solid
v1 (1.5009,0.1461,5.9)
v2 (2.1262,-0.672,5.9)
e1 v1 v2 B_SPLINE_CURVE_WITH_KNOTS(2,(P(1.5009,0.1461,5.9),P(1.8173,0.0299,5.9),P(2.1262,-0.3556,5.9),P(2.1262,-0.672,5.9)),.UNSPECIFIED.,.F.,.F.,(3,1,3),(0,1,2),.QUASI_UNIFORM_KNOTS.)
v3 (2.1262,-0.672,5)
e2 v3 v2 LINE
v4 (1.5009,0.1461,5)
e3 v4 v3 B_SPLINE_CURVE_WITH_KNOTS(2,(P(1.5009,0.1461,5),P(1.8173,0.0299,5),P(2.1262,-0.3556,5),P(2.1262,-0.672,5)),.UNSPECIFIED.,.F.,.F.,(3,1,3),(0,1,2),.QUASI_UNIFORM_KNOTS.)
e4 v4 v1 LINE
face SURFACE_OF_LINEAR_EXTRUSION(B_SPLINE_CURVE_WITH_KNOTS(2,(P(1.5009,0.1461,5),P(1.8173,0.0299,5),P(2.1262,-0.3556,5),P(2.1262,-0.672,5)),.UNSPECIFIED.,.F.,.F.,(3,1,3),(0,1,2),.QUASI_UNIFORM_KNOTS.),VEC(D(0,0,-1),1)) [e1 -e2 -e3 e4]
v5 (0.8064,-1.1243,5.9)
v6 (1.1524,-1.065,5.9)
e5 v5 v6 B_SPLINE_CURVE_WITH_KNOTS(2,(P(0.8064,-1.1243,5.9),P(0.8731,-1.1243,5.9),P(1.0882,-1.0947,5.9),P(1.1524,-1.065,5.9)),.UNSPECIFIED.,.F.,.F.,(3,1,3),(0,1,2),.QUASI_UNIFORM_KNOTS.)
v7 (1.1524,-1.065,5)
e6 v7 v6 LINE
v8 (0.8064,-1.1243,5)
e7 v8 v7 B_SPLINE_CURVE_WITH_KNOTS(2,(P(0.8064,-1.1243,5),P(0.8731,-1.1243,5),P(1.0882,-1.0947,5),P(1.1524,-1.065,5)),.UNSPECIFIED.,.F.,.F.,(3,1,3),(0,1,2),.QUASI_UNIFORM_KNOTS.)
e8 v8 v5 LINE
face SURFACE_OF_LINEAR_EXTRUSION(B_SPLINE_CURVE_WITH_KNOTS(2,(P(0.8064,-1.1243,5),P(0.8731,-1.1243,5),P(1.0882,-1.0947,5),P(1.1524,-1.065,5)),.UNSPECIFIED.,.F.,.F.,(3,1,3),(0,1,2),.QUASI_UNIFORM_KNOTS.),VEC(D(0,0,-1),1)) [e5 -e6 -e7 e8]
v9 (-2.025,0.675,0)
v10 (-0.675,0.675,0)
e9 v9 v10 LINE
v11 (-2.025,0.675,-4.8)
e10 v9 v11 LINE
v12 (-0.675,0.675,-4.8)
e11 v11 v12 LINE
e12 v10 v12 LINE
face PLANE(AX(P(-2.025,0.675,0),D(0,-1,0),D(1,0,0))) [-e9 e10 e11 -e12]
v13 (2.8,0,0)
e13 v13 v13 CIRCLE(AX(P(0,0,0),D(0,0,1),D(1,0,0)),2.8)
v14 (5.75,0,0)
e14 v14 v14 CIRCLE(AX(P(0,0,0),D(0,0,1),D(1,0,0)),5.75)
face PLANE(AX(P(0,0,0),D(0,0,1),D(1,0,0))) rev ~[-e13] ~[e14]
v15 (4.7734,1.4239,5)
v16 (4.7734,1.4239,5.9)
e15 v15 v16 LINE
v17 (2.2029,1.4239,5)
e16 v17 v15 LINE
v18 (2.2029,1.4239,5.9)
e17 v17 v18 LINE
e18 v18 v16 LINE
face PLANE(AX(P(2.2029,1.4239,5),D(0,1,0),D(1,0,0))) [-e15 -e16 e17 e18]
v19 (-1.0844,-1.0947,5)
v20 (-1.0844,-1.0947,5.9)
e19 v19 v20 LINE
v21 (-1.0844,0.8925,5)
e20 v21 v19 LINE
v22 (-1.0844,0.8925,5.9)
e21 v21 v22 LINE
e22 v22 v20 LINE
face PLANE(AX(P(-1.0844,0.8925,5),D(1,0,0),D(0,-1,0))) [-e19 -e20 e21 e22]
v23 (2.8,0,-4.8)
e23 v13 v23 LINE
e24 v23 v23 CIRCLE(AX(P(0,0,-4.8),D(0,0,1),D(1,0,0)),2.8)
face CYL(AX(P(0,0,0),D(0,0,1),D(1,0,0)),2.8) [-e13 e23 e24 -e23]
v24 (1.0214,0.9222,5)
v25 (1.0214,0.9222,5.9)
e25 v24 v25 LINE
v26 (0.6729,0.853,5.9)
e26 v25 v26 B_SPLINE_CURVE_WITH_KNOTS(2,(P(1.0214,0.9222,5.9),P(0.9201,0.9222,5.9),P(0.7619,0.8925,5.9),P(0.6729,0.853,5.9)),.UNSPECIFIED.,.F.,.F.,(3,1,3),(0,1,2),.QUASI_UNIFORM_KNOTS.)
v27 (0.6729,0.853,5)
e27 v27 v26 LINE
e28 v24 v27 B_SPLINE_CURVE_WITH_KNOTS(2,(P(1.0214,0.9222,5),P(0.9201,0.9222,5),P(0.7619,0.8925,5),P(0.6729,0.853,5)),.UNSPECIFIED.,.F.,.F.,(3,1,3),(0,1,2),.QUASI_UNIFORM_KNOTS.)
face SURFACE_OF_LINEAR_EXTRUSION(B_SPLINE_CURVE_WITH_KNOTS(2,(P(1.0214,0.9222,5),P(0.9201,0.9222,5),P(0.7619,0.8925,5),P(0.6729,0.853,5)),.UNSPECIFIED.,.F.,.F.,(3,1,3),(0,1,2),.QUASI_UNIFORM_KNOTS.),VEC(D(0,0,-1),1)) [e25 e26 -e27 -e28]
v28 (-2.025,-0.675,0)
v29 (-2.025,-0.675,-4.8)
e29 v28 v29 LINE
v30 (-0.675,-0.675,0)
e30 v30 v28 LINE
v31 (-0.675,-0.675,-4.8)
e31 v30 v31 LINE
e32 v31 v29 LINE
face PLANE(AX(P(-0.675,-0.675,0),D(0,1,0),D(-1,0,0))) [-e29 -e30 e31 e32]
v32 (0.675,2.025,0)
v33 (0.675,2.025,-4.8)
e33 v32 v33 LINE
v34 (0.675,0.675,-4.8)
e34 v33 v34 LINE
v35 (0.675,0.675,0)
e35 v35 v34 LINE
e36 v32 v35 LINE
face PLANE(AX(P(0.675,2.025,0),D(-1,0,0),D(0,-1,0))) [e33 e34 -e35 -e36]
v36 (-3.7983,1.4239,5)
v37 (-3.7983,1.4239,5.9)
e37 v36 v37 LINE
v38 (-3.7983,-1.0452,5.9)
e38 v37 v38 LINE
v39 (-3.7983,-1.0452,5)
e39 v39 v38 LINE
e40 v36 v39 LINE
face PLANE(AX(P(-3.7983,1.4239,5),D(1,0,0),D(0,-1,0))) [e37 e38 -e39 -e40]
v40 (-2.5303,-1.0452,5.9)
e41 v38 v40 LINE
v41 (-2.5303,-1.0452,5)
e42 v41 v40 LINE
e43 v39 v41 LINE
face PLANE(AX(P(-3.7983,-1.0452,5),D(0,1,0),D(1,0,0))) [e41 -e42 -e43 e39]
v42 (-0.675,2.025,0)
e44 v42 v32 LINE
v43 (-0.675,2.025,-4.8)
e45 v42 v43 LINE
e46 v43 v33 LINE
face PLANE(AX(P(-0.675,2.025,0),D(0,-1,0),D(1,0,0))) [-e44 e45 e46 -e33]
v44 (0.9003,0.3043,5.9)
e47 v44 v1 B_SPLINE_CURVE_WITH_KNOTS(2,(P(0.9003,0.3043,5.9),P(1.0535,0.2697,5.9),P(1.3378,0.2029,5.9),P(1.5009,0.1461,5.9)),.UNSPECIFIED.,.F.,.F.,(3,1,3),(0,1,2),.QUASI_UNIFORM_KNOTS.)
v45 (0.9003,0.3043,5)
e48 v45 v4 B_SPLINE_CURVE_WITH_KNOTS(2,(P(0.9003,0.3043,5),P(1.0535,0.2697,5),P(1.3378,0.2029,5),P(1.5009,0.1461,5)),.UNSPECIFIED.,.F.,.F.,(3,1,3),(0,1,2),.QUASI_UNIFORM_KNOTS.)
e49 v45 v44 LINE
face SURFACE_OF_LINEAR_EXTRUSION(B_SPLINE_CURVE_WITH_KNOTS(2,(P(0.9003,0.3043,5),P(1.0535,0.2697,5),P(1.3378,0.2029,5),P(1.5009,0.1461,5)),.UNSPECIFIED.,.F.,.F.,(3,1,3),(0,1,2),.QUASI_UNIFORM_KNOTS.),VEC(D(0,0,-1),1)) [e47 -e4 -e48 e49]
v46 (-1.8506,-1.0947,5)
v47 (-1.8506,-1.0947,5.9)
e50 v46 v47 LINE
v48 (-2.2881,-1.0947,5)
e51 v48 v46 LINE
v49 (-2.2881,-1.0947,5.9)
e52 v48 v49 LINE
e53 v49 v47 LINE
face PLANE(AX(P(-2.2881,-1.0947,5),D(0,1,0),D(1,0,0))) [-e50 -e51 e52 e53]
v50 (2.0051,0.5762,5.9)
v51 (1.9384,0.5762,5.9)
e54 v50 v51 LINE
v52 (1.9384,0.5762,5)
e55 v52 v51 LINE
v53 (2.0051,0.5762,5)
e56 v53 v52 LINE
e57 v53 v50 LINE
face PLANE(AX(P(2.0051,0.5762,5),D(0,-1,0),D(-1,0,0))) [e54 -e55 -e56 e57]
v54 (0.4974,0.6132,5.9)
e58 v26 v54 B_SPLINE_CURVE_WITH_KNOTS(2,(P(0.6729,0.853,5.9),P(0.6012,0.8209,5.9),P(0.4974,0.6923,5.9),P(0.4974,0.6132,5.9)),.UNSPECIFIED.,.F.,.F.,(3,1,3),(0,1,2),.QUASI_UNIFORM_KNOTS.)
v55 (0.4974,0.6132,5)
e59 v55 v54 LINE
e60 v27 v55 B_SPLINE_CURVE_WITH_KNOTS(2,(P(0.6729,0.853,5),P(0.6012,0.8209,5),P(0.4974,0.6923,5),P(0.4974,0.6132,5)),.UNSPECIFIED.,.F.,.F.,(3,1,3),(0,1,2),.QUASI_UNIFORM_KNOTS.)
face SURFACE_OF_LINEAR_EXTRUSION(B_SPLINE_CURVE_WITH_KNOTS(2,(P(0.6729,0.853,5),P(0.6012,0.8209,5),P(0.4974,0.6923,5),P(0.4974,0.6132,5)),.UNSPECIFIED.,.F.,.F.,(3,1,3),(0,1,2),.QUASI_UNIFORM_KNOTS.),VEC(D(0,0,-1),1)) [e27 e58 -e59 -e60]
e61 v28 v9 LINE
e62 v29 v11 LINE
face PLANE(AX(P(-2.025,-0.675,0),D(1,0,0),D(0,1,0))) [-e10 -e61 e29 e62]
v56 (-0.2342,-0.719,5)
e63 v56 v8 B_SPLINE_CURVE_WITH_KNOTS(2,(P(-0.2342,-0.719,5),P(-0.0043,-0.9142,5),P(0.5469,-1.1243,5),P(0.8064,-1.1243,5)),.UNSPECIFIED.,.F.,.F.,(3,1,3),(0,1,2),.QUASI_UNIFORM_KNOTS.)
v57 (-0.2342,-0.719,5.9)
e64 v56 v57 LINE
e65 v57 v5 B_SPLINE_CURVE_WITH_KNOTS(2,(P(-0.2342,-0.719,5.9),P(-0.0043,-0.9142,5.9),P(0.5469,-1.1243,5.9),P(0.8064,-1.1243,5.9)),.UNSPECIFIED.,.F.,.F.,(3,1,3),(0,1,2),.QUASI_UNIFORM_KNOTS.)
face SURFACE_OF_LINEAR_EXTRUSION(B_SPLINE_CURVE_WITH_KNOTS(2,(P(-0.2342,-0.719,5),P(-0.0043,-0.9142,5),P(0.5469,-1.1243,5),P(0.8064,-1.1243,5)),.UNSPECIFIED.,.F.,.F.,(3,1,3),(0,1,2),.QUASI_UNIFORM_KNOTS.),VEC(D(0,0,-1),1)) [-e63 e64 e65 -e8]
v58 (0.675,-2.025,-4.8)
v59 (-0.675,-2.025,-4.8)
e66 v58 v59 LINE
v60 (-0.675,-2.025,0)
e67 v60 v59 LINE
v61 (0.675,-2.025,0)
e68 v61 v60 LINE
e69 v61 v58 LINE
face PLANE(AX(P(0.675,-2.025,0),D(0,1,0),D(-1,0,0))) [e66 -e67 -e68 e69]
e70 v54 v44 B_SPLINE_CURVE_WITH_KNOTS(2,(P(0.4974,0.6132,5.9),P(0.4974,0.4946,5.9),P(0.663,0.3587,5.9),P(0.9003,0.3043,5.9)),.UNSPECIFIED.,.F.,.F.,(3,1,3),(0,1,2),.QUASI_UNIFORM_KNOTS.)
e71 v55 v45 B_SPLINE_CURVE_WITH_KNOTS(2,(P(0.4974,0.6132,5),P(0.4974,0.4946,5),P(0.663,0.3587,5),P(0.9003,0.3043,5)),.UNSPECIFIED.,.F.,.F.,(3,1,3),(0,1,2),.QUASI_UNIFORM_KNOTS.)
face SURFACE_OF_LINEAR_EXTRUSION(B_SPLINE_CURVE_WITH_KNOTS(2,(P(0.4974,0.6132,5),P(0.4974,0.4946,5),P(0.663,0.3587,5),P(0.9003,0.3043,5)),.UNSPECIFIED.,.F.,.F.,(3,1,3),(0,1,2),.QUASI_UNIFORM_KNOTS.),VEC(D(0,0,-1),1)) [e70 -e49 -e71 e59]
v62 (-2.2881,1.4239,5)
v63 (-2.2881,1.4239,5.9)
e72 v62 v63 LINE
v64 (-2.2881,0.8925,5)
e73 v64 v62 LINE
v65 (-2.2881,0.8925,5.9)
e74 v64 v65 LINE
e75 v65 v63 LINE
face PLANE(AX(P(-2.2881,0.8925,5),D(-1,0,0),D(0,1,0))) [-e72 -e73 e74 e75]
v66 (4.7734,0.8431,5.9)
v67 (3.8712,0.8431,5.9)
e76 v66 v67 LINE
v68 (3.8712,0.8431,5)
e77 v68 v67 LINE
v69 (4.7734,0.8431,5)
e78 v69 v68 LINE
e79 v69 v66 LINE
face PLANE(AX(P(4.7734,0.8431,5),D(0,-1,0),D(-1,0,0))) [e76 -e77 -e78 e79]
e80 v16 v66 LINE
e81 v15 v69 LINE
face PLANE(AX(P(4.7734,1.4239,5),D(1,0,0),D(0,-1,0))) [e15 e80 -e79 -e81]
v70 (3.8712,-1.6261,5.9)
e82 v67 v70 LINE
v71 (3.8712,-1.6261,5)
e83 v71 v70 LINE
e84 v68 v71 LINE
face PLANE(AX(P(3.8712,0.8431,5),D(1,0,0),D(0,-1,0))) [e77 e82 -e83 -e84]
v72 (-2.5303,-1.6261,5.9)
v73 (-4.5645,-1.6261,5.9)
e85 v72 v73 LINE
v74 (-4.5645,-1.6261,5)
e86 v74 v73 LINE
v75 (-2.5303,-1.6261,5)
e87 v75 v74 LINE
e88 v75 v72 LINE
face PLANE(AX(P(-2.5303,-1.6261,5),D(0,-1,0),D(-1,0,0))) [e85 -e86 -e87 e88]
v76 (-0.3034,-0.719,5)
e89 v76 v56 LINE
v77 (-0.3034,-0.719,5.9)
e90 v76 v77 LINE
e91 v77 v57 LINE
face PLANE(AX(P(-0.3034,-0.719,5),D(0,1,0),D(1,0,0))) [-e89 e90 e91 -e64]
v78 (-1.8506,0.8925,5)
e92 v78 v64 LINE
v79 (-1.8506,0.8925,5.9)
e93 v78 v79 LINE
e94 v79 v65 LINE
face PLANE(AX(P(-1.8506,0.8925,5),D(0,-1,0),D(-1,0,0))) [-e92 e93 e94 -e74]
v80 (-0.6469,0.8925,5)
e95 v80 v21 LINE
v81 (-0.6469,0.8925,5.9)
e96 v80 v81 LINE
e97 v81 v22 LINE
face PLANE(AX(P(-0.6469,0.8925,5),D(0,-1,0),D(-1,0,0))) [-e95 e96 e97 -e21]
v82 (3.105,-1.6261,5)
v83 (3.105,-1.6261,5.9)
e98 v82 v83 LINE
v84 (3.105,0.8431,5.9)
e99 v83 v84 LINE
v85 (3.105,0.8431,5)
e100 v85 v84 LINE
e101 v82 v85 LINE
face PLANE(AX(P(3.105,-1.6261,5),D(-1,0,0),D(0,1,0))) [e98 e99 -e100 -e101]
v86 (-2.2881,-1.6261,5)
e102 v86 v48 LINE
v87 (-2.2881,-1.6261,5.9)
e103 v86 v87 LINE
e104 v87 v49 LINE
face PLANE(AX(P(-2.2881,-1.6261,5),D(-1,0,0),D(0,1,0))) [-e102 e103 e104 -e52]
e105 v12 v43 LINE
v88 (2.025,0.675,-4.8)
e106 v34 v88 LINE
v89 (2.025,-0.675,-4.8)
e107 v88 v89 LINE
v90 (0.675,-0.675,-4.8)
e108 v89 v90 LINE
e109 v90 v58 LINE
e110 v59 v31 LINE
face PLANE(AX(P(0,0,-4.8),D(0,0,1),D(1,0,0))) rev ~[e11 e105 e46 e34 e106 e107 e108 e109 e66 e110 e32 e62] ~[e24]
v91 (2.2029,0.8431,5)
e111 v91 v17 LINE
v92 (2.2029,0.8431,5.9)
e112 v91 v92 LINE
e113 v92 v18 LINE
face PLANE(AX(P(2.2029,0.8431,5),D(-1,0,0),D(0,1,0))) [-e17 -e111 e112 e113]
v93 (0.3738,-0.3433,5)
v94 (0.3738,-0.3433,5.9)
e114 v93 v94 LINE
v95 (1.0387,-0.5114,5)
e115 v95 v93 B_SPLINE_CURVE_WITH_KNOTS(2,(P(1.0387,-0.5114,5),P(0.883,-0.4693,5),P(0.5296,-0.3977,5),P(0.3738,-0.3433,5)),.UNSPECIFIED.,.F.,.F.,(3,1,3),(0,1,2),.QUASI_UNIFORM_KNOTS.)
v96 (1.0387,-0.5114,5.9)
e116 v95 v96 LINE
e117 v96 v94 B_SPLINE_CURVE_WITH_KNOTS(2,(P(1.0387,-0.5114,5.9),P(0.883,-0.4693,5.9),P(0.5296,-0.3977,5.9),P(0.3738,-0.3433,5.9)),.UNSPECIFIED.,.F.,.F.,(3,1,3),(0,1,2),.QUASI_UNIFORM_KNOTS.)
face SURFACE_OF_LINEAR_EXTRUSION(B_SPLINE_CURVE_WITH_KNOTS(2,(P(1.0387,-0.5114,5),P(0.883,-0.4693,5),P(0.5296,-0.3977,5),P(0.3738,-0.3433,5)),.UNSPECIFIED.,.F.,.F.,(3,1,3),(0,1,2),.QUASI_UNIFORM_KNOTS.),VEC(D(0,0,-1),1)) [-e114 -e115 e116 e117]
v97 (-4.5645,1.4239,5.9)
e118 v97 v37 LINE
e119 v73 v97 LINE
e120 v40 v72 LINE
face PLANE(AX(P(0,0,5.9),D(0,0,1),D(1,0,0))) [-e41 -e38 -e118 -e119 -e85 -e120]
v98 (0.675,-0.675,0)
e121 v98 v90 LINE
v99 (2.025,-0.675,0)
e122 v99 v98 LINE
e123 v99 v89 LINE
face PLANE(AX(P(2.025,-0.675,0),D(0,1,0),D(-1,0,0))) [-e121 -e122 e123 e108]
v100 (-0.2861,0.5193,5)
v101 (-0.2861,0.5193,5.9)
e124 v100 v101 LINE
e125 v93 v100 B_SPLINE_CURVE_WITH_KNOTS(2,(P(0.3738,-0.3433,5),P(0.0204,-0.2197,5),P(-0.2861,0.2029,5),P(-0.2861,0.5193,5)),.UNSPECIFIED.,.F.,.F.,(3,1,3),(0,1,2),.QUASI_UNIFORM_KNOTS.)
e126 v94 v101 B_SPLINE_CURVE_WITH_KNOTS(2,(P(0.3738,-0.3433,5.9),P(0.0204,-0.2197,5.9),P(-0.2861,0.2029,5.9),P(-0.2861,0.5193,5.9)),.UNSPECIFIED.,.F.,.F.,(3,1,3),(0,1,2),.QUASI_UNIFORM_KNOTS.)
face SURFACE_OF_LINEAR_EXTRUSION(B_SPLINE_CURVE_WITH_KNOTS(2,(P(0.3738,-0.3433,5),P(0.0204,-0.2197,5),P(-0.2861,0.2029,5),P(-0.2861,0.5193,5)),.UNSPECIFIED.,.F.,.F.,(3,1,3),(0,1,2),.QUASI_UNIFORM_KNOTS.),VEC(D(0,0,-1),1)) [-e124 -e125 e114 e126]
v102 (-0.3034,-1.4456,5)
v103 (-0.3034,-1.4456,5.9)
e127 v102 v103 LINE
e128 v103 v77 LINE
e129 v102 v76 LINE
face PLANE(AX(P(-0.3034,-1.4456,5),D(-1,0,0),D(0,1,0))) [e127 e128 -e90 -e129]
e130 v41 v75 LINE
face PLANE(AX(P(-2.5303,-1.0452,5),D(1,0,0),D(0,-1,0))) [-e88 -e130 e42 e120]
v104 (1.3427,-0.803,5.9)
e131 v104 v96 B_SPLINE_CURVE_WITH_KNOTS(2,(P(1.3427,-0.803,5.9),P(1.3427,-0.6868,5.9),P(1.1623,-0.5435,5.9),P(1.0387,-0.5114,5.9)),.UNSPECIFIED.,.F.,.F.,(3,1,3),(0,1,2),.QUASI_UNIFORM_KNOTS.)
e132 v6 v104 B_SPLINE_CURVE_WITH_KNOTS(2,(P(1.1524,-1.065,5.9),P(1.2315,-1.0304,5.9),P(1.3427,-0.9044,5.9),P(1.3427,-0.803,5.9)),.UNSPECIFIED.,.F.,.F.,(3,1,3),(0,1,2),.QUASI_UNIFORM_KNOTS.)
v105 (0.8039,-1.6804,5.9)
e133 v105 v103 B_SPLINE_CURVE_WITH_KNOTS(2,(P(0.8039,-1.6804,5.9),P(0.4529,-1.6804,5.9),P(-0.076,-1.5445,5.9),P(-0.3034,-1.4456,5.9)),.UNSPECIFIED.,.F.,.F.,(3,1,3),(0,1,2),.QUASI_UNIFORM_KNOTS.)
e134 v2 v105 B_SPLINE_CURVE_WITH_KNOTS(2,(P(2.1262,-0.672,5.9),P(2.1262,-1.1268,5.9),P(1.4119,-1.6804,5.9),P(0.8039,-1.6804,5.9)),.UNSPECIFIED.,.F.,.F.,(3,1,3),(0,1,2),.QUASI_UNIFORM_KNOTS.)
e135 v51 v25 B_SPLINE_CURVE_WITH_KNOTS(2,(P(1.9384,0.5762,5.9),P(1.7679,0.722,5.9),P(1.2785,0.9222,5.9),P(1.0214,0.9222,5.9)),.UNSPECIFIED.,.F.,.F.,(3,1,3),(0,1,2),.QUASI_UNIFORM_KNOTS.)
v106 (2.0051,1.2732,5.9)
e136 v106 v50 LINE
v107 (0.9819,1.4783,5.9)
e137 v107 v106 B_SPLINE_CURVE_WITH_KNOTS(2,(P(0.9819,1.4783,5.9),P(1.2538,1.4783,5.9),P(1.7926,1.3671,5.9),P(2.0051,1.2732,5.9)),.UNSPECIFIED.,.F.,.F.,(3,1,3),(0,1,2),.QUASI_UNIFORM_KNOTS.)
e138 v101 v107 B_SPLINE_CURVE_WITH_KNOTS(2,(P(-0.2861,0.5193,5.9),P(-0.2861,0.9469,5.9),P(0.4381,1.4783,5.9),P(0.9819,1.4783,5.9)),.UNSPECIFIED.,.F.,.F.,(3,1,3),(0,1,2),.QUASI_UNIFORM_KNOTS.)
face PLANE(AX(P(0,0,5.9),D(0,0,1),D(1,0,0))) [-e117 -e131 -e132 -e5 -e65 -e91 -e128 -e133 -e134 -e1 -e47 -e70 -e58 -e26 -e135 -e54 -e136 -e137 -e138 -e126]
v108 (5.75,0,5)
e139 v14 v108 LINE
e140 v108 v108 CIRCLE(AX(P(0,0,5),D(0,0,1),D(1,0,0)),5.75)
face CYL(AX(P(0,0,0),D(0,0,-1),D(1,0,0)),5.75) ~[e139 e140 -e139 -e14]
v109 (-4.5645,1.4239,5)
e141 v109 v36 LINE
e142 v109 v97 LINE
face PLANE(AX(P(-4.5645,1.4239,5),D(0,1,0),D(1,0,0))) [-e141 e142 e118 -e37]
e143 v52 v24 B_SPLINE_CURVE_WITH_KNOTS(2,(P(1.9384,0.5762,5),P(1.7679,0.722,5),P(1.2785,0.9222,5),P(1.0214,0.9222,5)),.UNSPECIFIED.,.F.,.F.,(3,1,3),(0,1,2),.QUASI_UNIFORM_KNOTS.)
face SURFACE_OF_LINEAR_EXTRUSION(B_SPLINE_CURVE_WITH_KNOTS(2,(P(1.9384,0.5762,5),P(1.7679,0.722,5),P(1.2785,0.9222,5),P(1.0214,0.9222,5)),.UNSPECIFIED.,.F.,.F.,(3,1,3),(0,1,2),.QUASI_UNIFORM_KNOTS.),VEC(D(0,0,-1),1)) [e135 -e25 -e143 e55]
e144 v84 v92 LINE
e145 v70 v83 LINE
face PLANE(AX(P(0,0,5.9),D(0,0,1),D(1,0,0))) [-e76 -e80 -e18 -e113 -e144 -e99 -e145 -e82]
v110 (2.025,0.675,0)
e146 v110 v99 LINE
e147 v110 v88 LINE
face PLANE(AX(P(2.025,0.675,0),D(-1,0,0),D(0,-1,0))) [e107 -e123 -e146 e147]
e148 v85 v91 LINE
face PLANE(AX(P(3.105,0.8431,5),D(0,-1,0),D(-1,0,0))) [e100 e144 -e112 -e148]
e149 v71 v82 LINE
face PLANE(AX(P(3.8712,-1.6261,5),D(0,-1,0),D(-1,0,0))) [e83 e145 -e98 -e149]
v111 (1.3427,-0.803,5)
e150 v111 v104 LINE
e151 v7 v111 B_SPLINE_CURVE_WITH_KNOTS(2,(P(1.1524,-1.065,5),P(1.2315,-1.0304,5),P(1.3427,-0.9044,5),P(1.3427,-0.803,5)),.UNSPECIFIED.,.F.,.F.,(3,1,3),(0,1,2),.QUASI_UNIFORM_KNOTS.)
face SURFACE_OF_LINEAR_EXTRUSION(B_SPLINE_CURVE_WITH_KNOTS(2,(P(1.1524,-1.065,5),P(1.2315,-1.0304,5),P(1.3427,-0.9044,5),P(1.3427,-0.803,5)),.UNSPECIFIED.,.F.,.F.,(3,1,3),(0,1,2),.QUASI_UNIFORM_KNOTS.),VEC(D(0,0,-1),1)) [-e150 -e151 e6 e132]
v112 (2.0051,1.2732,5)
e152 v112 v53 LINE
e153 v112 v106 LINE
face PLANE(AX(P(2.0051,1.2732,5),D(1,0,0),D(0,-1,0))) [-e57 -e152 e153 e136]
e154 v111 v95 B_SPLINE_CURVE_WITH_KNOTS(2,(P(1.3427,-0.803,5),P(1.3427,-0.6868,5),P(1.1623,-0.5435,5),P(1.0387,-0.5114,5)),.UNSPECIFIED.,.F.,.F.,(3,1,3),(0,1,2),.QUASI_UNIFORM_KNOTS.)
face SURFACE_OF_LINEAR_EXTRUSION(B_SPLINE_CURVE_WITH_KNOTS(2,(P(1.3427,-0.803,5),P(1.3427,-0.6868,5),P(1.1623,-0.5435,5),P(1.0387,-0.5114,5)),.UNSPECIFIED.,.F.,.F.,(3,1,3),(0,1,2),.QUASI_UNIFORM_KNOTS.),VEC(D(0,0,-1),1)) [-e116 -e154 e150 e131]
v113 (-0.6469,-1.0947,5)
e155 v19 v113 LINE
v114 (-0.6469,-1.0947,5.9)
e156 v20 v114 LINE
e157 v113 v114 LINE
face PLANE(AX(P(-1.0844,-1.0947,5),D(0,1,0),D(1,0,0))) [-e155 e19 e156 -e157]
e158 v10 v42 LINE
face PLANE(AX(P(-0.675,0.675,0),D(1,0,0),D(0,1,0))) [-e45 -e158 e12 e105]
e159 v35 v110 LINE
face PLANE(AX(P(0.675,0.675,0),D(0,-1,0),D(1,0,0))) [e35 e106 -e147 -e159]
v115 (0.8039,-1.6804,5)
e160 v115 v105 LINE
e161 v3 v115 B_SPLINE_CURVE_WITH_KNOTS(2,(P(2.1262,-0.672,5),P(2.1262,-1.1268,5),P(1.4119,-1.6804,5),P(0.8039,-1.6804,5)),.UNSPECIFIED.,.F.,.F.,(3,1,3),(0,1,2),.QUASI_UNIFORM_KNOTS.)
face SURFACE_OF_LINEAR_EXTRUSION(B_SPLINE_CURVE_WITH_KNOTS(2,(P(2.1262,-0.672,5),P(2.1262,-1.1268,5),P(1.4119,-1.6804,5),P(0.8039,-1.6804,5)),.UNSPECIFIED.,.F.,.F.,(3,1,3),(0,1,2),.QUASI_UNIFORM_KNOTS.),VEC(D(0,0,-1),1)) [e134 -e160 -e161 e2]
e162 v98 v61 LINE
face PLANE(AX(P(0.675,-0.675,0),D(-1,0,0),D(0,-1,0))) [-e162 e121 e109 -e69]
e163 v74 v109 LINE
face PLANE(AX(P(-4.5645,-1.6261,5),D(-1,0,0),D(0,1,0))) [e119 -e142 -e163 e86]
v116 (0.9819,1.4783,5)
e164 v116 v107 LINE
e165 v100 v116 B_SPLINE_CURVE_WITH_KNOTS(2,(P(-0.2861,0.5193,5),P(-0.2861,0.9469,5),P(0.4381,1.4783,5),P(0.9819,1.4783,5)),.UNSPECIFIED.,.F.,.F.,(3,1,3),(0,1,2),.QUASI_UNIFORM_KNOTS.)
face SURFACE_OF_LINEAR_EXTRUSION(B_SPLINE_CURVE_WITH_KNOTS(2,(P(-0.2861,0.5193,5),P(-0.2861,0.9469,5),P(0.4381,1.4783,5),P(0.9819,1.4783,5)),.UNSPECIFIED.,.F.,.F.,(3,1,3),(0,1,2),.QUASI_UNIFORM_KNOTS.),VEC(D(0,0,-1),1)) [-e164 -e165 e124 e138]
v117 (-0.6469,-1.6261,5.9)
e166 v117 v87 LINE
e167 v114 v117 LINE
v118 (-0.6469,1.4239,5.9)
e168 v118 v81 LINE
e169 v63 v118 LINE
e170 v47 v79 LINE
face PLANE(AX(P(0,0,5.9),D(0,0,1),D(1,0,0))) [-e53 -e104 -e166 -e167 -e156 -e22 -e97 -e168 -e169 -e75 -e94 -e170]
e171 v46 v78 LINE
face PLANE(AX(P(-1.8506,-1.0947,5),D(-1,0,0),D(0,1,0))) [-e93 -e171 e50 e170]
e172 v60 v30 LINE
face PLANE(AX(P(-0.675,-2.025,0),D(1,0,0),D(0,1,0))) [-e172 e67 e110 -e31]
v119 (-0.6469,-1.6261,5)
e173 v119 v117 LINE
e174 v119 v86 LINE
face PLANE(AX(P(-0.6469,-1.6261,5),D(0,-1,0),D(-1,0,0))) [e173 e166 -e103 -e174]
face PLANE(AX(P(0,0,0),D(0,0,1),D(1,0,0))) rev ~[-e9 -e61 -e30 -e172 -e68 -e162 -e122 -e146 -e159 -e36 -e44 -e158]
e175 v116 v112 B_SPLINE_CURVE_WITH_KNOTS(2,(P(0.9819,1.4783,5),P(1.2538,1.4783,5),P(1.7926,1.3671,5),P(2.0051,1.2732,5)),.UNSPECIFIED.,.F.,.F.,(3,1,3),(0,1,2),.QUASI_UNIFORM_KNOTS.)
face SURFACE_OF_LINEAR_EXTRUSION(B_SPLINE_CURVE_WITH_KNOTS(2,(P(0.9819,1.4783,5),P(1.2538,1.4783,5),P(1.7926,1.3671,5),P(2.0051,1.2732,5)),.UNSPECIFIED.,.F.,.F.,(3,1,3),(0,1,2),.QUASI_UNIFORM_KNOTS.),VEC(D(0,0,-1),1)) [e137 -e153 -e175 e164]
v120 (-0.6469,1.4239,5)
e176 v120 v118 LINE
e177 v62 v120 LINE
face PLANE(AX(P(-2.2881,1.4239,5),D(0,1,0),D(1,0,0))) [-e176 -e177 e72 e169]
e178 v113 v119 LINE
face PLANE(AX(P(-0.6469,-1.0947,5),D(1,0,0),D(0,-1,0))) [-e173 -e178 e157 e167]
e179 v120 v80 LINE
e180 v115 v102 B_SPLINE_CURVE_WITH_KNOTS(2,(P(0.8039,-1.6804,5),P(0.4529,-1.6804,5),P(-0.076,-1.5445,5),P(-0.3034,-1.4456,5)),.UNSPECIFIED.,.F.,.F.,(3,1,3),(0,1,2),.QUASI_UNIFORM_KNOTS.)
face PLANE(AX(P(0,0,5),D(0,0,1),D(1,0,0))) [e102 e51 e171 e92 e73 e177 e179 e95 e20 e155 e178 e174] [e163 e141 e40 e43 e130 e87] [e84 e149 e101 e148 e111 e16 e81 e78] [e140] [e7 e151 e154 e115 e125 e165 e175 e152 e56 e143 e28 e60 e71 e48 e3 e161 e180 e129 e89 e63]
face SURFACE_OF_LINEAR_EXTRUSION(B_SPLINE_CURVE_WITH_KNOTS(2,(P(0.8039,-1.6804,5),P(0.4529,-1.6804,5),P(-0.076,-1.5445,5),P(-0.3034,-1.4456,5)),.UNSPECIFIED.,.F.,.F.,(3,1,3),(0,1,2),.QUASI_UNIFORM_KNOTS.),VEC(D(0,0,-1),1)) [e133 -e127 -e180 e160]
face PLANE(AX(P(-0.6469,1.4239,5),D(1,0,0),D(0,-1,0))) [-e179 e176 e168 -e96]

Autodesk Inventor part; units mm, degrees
ref_plane "YZ Plane" through (0, 0, 0) normal (1, 0, 0) x (0, 1, 0)
ref_plane "XZ Plane" through (0, 0, 0) normal (0, 1, 0) x (-1, 0, 0)
ref_plane "XY Plane" through (0, 0, 0) normal (0, 0, 1) x (1, 0, 0)
sketch "Sketch1" plane through (0, 0, 0) normal (0, 0, 1) x (1, 0, 0)
  circle A0 centre (0, 0) radius 6.22 construction
  circle A1 centre (0, 0) radius 2.8
  line L0 (-0.675, 0.675) -> (-0.675, 2.025)
  line L1 (-0.675, 2.025) -> (0.675, 2.025)
  line L2 (0.675, 2.025) -> (0.675, 0.675)
  line L3 (0.675, 0.675) -> (2.025, 0.675)
  line L4 (2.025, 0.675) -> (2.025, -0.675)
  line L5 (2.025, -0.675) -> (0.675, -0.675)
  line L6 (0.675, -0.675) -> (0.675, -2.025)
  line L7 (0.675, -2.025) -> (-0.675, -2.025)
  line L8 (-0.675, -2.025) -> (-0.675, -0.675)
  line L9 (-0.675, -0.675) -> (-2.025, -0.675)
  line L10 (-2.025, -0.675) -> (-2.025, 0.675)
  line L11 (-2.025, 0.675) -> (-0.675, 0.675)
  circle A2 centre (0, 0) radius 5.75
  point P0 (-6.07, -6.1)
  dimension "d0" = 12.44
  dimension "d1" = 0.47
extrude "Extrusion1" add sketch "Sketch1" along normal blind 5 contours A1 | L0 L1 L2 L3 L4 L5 L6 L7 L8 L9 L10 L11 | A2
extrude "Extrusion2" add sketch "Sketch1" against normal blind 4.8 contours A1
sketch "Sketch2" plane through (0, 0, 5) normal (0, 0, 1) x (1, 0, 0)
  point P0 (0, 0)
sketch "Sketch3" plane through (0, 0, 5) normal (0, 0, 1) x (1, 0, 0)
  line L0 (-4.8809, 1.4783) -> (4.8809, 1.4783) construction
  line L1 (4.8809, 1.4783) -> (4.8809, -1.6654) construction
  line L2 (4.8809, -1.6654) -> (-4.8809, -1.6654) construction
  line L3 (-4.8809, -1.6654) -> (-4.8809, 1.4783) construction
  line L4 (-2.5303, -1.6261) -> (-4.5645, -1.6261)
  line L5 (-4.5645, -1.6261) -> (-4.5645, 1.4239)
  line L6 (-4.5645, 1.4239) -> (-3.7983, 1.4239)
  line L7 (-3.7983, 1.4239) -> (-3.7983, -1.0452)
  line L8 (-3.7983, -1.0452) -> (-2.5303, -1.0452)
  line L9 (-2.5303, -1.0452) -> (-2.5303, -1.6261)
  line L10 (-0.6469, -1.6261) -> (-2.2881, -1.6261)
  line L11 (-2.2881, -1.6261) -> (-2.2881, -1.0947)
  line L12 (-2.2881, -1.0947) -> (-1.8506, -1.0947)
  line L13 (-1.8506, -1.0947) -> (-1.8506, 0.8925)
  line L14 (-1.8506, 0.8925) -> (-2.2881, 0.8925)
  line L15 (-2.2881, 0.8925) -> (-2.2881, 1.4239)
  line L16 (-2.2881, 1.4239) -> (-0.6469, 1.4239)
  line L17 (-0.6469, 1.4239) -> (-0.6469, 0.8925)
  line L18 (-0.6469, 0.8925) -> (-1.0844, 0.8925)
  line L19 (-1.0844, 0.8925) -> (-1.0844, -1.0947)
  line L20 (-1.0844, -1.0947) -> (-0.6469, -1.0947)
  line L21 (-0.6469, -1.0947) -> (-0.6469, -1.6261)
  spline S0 degree 2 poles (0.8039, -1.6804) (0.4529, -1.6804) (-0.076, -1.5445) (-0.3034, -1.4456) knots 0 0 0 1 2 2 2
  line L22 (-0.3034, -1.4456) -> (-0.3034, -0.719)
  line L23 (-0.3034, -0.719) -> (-0.2342, -0.719)
  spline S1 degree 2 poles (-0.2342, -0.719) (-0.0043, -0.9142) (0.5469, -1.1243) (0.8064, -1.1243) knots 0 0 0 1 2 2 2
  spline S2 degree 2 poles (0.8064, -1.1243) (0.8731, -1.1243) (1.0882, -1.0947) (1.1524, -1.065) knots 0 0 0 1 2 2 2
  spline S3 degree 2 poles (1.1524, -1.065) (1.2315, -1.0304) (1.3427, -0.9044) (1.3427, -0.803) knots 0 0 0 1 2 2 2
  spline S4 degree 2 poles (1.3427, -0.803) (1.3427, -0.6868) (1.1623, -0.5435) (1.0387, -0.5114) knots 0 0 0 1 2 2 2
  spline S5 degree 2 poles (1.0387, -0.5114) (0.883, -0.4693) (0.5296, -0.3977) (0.3738, -0.3433) knots 0 0 0 1 2 2 2
  spline S6 degree 2 poles (0.3738, -0.3433) (0.0204, -0.2197) (-0.2861, 0.2029) (-0.2861, 0.5193) knots 0 0 0 1 2 2 2
  spline S7 degree 2 poles (-0.2861, 0.5193) (-0.2861, 0.9469) (0.4381, 1.4783) (0.9819, 1.4783) knots 0 0 0 1 2 2 2
  spline S8 degree 2 poles (0.9819, 1.4783) (1.2538, 1.4783) (1.7926, 1.3671) (2.0051, 1.2732) knots 0 0 0 1 2 2 2
  line L24 (2.0051, 1.2732) -> (2.0051, 0.5762)
  line L25 (2.0051, 0.5762) -> (1.9384, 0.5762)
  spline S9 degree 2 poles (1.9384, 0.5762) (1.7679, 0.722) (1.2785, 0.9222) (1.0214, 0.9222) knots 0 0 0 1 2 2 2
  spline S10 degree 2 poles (1.0214, 0.9222) (0.9201, 0.9222) (0.7619, 0.8925) (0.6729, 0.853) knots 0 0 0 1 2 2 2
  spline S11 degree 2 poles (0.6729, 0.853) (0.6012, 0.8209) (0.4974, 0.6923) (0.4974, 0.6132) knots 0 0 0 1 2 2 2
  spline S12 degree 2 poles (0.4974, 0.6132) (0.4974, 0.4946) (0.663, 0.3587) (0.9003, 0.3043) knots 0 0 0 1 2 2 2
  spline S13 degree 2 poles (0.9003, 0.3043) (1.0535, 0.2697) (1.3378, 0.2029) (1.5009, 0.1461) knots 0 0 0 1 2 2 2
  spline S14 degree 2 poles (1.5009, 0.1461) (1.8173, 0.0299) (2.1262, -0.3556) (2.1262, -0.672) knots 0 0 0 1 2 2 2
  spline S15 degree 2 poles (2.1262, -0.672) (2.1262, -1.1268) (1.4119, -1.6804) (0.8039, -1.6804) knots 0 0 0 1 2 2 2
  line L26 (3.105, -1.6261) -> (3.105, 0.8431)
  line L27 (3.105, 0.8431) -> (2.2029, 0.8431)
  line L28 (2.2029, 0.8431) -> (2.2029, 1.4239)
  line L29 (2.2029, 1.4239) -> (4.7734, 1.4239)
  line L30 (4.7734, 1.4239) -> (4.7734, 0.8431)
  line L31 (4.7734, 0.8431) -> (3.8712, 0.8431)
  line L32 (3.8712, 0.8431) -> (3.8712, -1.6261)
  line L33 (3.8712, -1.6261) -> (3.105, -1.6261)
  point P0 (0, -1.6654)
  point P1 (0, 0)
  point P2 (0, 0)
extrude "Extrusion5" add sketch "Sketch3" along normal blind 0.9
properties part number "IPC List key"
